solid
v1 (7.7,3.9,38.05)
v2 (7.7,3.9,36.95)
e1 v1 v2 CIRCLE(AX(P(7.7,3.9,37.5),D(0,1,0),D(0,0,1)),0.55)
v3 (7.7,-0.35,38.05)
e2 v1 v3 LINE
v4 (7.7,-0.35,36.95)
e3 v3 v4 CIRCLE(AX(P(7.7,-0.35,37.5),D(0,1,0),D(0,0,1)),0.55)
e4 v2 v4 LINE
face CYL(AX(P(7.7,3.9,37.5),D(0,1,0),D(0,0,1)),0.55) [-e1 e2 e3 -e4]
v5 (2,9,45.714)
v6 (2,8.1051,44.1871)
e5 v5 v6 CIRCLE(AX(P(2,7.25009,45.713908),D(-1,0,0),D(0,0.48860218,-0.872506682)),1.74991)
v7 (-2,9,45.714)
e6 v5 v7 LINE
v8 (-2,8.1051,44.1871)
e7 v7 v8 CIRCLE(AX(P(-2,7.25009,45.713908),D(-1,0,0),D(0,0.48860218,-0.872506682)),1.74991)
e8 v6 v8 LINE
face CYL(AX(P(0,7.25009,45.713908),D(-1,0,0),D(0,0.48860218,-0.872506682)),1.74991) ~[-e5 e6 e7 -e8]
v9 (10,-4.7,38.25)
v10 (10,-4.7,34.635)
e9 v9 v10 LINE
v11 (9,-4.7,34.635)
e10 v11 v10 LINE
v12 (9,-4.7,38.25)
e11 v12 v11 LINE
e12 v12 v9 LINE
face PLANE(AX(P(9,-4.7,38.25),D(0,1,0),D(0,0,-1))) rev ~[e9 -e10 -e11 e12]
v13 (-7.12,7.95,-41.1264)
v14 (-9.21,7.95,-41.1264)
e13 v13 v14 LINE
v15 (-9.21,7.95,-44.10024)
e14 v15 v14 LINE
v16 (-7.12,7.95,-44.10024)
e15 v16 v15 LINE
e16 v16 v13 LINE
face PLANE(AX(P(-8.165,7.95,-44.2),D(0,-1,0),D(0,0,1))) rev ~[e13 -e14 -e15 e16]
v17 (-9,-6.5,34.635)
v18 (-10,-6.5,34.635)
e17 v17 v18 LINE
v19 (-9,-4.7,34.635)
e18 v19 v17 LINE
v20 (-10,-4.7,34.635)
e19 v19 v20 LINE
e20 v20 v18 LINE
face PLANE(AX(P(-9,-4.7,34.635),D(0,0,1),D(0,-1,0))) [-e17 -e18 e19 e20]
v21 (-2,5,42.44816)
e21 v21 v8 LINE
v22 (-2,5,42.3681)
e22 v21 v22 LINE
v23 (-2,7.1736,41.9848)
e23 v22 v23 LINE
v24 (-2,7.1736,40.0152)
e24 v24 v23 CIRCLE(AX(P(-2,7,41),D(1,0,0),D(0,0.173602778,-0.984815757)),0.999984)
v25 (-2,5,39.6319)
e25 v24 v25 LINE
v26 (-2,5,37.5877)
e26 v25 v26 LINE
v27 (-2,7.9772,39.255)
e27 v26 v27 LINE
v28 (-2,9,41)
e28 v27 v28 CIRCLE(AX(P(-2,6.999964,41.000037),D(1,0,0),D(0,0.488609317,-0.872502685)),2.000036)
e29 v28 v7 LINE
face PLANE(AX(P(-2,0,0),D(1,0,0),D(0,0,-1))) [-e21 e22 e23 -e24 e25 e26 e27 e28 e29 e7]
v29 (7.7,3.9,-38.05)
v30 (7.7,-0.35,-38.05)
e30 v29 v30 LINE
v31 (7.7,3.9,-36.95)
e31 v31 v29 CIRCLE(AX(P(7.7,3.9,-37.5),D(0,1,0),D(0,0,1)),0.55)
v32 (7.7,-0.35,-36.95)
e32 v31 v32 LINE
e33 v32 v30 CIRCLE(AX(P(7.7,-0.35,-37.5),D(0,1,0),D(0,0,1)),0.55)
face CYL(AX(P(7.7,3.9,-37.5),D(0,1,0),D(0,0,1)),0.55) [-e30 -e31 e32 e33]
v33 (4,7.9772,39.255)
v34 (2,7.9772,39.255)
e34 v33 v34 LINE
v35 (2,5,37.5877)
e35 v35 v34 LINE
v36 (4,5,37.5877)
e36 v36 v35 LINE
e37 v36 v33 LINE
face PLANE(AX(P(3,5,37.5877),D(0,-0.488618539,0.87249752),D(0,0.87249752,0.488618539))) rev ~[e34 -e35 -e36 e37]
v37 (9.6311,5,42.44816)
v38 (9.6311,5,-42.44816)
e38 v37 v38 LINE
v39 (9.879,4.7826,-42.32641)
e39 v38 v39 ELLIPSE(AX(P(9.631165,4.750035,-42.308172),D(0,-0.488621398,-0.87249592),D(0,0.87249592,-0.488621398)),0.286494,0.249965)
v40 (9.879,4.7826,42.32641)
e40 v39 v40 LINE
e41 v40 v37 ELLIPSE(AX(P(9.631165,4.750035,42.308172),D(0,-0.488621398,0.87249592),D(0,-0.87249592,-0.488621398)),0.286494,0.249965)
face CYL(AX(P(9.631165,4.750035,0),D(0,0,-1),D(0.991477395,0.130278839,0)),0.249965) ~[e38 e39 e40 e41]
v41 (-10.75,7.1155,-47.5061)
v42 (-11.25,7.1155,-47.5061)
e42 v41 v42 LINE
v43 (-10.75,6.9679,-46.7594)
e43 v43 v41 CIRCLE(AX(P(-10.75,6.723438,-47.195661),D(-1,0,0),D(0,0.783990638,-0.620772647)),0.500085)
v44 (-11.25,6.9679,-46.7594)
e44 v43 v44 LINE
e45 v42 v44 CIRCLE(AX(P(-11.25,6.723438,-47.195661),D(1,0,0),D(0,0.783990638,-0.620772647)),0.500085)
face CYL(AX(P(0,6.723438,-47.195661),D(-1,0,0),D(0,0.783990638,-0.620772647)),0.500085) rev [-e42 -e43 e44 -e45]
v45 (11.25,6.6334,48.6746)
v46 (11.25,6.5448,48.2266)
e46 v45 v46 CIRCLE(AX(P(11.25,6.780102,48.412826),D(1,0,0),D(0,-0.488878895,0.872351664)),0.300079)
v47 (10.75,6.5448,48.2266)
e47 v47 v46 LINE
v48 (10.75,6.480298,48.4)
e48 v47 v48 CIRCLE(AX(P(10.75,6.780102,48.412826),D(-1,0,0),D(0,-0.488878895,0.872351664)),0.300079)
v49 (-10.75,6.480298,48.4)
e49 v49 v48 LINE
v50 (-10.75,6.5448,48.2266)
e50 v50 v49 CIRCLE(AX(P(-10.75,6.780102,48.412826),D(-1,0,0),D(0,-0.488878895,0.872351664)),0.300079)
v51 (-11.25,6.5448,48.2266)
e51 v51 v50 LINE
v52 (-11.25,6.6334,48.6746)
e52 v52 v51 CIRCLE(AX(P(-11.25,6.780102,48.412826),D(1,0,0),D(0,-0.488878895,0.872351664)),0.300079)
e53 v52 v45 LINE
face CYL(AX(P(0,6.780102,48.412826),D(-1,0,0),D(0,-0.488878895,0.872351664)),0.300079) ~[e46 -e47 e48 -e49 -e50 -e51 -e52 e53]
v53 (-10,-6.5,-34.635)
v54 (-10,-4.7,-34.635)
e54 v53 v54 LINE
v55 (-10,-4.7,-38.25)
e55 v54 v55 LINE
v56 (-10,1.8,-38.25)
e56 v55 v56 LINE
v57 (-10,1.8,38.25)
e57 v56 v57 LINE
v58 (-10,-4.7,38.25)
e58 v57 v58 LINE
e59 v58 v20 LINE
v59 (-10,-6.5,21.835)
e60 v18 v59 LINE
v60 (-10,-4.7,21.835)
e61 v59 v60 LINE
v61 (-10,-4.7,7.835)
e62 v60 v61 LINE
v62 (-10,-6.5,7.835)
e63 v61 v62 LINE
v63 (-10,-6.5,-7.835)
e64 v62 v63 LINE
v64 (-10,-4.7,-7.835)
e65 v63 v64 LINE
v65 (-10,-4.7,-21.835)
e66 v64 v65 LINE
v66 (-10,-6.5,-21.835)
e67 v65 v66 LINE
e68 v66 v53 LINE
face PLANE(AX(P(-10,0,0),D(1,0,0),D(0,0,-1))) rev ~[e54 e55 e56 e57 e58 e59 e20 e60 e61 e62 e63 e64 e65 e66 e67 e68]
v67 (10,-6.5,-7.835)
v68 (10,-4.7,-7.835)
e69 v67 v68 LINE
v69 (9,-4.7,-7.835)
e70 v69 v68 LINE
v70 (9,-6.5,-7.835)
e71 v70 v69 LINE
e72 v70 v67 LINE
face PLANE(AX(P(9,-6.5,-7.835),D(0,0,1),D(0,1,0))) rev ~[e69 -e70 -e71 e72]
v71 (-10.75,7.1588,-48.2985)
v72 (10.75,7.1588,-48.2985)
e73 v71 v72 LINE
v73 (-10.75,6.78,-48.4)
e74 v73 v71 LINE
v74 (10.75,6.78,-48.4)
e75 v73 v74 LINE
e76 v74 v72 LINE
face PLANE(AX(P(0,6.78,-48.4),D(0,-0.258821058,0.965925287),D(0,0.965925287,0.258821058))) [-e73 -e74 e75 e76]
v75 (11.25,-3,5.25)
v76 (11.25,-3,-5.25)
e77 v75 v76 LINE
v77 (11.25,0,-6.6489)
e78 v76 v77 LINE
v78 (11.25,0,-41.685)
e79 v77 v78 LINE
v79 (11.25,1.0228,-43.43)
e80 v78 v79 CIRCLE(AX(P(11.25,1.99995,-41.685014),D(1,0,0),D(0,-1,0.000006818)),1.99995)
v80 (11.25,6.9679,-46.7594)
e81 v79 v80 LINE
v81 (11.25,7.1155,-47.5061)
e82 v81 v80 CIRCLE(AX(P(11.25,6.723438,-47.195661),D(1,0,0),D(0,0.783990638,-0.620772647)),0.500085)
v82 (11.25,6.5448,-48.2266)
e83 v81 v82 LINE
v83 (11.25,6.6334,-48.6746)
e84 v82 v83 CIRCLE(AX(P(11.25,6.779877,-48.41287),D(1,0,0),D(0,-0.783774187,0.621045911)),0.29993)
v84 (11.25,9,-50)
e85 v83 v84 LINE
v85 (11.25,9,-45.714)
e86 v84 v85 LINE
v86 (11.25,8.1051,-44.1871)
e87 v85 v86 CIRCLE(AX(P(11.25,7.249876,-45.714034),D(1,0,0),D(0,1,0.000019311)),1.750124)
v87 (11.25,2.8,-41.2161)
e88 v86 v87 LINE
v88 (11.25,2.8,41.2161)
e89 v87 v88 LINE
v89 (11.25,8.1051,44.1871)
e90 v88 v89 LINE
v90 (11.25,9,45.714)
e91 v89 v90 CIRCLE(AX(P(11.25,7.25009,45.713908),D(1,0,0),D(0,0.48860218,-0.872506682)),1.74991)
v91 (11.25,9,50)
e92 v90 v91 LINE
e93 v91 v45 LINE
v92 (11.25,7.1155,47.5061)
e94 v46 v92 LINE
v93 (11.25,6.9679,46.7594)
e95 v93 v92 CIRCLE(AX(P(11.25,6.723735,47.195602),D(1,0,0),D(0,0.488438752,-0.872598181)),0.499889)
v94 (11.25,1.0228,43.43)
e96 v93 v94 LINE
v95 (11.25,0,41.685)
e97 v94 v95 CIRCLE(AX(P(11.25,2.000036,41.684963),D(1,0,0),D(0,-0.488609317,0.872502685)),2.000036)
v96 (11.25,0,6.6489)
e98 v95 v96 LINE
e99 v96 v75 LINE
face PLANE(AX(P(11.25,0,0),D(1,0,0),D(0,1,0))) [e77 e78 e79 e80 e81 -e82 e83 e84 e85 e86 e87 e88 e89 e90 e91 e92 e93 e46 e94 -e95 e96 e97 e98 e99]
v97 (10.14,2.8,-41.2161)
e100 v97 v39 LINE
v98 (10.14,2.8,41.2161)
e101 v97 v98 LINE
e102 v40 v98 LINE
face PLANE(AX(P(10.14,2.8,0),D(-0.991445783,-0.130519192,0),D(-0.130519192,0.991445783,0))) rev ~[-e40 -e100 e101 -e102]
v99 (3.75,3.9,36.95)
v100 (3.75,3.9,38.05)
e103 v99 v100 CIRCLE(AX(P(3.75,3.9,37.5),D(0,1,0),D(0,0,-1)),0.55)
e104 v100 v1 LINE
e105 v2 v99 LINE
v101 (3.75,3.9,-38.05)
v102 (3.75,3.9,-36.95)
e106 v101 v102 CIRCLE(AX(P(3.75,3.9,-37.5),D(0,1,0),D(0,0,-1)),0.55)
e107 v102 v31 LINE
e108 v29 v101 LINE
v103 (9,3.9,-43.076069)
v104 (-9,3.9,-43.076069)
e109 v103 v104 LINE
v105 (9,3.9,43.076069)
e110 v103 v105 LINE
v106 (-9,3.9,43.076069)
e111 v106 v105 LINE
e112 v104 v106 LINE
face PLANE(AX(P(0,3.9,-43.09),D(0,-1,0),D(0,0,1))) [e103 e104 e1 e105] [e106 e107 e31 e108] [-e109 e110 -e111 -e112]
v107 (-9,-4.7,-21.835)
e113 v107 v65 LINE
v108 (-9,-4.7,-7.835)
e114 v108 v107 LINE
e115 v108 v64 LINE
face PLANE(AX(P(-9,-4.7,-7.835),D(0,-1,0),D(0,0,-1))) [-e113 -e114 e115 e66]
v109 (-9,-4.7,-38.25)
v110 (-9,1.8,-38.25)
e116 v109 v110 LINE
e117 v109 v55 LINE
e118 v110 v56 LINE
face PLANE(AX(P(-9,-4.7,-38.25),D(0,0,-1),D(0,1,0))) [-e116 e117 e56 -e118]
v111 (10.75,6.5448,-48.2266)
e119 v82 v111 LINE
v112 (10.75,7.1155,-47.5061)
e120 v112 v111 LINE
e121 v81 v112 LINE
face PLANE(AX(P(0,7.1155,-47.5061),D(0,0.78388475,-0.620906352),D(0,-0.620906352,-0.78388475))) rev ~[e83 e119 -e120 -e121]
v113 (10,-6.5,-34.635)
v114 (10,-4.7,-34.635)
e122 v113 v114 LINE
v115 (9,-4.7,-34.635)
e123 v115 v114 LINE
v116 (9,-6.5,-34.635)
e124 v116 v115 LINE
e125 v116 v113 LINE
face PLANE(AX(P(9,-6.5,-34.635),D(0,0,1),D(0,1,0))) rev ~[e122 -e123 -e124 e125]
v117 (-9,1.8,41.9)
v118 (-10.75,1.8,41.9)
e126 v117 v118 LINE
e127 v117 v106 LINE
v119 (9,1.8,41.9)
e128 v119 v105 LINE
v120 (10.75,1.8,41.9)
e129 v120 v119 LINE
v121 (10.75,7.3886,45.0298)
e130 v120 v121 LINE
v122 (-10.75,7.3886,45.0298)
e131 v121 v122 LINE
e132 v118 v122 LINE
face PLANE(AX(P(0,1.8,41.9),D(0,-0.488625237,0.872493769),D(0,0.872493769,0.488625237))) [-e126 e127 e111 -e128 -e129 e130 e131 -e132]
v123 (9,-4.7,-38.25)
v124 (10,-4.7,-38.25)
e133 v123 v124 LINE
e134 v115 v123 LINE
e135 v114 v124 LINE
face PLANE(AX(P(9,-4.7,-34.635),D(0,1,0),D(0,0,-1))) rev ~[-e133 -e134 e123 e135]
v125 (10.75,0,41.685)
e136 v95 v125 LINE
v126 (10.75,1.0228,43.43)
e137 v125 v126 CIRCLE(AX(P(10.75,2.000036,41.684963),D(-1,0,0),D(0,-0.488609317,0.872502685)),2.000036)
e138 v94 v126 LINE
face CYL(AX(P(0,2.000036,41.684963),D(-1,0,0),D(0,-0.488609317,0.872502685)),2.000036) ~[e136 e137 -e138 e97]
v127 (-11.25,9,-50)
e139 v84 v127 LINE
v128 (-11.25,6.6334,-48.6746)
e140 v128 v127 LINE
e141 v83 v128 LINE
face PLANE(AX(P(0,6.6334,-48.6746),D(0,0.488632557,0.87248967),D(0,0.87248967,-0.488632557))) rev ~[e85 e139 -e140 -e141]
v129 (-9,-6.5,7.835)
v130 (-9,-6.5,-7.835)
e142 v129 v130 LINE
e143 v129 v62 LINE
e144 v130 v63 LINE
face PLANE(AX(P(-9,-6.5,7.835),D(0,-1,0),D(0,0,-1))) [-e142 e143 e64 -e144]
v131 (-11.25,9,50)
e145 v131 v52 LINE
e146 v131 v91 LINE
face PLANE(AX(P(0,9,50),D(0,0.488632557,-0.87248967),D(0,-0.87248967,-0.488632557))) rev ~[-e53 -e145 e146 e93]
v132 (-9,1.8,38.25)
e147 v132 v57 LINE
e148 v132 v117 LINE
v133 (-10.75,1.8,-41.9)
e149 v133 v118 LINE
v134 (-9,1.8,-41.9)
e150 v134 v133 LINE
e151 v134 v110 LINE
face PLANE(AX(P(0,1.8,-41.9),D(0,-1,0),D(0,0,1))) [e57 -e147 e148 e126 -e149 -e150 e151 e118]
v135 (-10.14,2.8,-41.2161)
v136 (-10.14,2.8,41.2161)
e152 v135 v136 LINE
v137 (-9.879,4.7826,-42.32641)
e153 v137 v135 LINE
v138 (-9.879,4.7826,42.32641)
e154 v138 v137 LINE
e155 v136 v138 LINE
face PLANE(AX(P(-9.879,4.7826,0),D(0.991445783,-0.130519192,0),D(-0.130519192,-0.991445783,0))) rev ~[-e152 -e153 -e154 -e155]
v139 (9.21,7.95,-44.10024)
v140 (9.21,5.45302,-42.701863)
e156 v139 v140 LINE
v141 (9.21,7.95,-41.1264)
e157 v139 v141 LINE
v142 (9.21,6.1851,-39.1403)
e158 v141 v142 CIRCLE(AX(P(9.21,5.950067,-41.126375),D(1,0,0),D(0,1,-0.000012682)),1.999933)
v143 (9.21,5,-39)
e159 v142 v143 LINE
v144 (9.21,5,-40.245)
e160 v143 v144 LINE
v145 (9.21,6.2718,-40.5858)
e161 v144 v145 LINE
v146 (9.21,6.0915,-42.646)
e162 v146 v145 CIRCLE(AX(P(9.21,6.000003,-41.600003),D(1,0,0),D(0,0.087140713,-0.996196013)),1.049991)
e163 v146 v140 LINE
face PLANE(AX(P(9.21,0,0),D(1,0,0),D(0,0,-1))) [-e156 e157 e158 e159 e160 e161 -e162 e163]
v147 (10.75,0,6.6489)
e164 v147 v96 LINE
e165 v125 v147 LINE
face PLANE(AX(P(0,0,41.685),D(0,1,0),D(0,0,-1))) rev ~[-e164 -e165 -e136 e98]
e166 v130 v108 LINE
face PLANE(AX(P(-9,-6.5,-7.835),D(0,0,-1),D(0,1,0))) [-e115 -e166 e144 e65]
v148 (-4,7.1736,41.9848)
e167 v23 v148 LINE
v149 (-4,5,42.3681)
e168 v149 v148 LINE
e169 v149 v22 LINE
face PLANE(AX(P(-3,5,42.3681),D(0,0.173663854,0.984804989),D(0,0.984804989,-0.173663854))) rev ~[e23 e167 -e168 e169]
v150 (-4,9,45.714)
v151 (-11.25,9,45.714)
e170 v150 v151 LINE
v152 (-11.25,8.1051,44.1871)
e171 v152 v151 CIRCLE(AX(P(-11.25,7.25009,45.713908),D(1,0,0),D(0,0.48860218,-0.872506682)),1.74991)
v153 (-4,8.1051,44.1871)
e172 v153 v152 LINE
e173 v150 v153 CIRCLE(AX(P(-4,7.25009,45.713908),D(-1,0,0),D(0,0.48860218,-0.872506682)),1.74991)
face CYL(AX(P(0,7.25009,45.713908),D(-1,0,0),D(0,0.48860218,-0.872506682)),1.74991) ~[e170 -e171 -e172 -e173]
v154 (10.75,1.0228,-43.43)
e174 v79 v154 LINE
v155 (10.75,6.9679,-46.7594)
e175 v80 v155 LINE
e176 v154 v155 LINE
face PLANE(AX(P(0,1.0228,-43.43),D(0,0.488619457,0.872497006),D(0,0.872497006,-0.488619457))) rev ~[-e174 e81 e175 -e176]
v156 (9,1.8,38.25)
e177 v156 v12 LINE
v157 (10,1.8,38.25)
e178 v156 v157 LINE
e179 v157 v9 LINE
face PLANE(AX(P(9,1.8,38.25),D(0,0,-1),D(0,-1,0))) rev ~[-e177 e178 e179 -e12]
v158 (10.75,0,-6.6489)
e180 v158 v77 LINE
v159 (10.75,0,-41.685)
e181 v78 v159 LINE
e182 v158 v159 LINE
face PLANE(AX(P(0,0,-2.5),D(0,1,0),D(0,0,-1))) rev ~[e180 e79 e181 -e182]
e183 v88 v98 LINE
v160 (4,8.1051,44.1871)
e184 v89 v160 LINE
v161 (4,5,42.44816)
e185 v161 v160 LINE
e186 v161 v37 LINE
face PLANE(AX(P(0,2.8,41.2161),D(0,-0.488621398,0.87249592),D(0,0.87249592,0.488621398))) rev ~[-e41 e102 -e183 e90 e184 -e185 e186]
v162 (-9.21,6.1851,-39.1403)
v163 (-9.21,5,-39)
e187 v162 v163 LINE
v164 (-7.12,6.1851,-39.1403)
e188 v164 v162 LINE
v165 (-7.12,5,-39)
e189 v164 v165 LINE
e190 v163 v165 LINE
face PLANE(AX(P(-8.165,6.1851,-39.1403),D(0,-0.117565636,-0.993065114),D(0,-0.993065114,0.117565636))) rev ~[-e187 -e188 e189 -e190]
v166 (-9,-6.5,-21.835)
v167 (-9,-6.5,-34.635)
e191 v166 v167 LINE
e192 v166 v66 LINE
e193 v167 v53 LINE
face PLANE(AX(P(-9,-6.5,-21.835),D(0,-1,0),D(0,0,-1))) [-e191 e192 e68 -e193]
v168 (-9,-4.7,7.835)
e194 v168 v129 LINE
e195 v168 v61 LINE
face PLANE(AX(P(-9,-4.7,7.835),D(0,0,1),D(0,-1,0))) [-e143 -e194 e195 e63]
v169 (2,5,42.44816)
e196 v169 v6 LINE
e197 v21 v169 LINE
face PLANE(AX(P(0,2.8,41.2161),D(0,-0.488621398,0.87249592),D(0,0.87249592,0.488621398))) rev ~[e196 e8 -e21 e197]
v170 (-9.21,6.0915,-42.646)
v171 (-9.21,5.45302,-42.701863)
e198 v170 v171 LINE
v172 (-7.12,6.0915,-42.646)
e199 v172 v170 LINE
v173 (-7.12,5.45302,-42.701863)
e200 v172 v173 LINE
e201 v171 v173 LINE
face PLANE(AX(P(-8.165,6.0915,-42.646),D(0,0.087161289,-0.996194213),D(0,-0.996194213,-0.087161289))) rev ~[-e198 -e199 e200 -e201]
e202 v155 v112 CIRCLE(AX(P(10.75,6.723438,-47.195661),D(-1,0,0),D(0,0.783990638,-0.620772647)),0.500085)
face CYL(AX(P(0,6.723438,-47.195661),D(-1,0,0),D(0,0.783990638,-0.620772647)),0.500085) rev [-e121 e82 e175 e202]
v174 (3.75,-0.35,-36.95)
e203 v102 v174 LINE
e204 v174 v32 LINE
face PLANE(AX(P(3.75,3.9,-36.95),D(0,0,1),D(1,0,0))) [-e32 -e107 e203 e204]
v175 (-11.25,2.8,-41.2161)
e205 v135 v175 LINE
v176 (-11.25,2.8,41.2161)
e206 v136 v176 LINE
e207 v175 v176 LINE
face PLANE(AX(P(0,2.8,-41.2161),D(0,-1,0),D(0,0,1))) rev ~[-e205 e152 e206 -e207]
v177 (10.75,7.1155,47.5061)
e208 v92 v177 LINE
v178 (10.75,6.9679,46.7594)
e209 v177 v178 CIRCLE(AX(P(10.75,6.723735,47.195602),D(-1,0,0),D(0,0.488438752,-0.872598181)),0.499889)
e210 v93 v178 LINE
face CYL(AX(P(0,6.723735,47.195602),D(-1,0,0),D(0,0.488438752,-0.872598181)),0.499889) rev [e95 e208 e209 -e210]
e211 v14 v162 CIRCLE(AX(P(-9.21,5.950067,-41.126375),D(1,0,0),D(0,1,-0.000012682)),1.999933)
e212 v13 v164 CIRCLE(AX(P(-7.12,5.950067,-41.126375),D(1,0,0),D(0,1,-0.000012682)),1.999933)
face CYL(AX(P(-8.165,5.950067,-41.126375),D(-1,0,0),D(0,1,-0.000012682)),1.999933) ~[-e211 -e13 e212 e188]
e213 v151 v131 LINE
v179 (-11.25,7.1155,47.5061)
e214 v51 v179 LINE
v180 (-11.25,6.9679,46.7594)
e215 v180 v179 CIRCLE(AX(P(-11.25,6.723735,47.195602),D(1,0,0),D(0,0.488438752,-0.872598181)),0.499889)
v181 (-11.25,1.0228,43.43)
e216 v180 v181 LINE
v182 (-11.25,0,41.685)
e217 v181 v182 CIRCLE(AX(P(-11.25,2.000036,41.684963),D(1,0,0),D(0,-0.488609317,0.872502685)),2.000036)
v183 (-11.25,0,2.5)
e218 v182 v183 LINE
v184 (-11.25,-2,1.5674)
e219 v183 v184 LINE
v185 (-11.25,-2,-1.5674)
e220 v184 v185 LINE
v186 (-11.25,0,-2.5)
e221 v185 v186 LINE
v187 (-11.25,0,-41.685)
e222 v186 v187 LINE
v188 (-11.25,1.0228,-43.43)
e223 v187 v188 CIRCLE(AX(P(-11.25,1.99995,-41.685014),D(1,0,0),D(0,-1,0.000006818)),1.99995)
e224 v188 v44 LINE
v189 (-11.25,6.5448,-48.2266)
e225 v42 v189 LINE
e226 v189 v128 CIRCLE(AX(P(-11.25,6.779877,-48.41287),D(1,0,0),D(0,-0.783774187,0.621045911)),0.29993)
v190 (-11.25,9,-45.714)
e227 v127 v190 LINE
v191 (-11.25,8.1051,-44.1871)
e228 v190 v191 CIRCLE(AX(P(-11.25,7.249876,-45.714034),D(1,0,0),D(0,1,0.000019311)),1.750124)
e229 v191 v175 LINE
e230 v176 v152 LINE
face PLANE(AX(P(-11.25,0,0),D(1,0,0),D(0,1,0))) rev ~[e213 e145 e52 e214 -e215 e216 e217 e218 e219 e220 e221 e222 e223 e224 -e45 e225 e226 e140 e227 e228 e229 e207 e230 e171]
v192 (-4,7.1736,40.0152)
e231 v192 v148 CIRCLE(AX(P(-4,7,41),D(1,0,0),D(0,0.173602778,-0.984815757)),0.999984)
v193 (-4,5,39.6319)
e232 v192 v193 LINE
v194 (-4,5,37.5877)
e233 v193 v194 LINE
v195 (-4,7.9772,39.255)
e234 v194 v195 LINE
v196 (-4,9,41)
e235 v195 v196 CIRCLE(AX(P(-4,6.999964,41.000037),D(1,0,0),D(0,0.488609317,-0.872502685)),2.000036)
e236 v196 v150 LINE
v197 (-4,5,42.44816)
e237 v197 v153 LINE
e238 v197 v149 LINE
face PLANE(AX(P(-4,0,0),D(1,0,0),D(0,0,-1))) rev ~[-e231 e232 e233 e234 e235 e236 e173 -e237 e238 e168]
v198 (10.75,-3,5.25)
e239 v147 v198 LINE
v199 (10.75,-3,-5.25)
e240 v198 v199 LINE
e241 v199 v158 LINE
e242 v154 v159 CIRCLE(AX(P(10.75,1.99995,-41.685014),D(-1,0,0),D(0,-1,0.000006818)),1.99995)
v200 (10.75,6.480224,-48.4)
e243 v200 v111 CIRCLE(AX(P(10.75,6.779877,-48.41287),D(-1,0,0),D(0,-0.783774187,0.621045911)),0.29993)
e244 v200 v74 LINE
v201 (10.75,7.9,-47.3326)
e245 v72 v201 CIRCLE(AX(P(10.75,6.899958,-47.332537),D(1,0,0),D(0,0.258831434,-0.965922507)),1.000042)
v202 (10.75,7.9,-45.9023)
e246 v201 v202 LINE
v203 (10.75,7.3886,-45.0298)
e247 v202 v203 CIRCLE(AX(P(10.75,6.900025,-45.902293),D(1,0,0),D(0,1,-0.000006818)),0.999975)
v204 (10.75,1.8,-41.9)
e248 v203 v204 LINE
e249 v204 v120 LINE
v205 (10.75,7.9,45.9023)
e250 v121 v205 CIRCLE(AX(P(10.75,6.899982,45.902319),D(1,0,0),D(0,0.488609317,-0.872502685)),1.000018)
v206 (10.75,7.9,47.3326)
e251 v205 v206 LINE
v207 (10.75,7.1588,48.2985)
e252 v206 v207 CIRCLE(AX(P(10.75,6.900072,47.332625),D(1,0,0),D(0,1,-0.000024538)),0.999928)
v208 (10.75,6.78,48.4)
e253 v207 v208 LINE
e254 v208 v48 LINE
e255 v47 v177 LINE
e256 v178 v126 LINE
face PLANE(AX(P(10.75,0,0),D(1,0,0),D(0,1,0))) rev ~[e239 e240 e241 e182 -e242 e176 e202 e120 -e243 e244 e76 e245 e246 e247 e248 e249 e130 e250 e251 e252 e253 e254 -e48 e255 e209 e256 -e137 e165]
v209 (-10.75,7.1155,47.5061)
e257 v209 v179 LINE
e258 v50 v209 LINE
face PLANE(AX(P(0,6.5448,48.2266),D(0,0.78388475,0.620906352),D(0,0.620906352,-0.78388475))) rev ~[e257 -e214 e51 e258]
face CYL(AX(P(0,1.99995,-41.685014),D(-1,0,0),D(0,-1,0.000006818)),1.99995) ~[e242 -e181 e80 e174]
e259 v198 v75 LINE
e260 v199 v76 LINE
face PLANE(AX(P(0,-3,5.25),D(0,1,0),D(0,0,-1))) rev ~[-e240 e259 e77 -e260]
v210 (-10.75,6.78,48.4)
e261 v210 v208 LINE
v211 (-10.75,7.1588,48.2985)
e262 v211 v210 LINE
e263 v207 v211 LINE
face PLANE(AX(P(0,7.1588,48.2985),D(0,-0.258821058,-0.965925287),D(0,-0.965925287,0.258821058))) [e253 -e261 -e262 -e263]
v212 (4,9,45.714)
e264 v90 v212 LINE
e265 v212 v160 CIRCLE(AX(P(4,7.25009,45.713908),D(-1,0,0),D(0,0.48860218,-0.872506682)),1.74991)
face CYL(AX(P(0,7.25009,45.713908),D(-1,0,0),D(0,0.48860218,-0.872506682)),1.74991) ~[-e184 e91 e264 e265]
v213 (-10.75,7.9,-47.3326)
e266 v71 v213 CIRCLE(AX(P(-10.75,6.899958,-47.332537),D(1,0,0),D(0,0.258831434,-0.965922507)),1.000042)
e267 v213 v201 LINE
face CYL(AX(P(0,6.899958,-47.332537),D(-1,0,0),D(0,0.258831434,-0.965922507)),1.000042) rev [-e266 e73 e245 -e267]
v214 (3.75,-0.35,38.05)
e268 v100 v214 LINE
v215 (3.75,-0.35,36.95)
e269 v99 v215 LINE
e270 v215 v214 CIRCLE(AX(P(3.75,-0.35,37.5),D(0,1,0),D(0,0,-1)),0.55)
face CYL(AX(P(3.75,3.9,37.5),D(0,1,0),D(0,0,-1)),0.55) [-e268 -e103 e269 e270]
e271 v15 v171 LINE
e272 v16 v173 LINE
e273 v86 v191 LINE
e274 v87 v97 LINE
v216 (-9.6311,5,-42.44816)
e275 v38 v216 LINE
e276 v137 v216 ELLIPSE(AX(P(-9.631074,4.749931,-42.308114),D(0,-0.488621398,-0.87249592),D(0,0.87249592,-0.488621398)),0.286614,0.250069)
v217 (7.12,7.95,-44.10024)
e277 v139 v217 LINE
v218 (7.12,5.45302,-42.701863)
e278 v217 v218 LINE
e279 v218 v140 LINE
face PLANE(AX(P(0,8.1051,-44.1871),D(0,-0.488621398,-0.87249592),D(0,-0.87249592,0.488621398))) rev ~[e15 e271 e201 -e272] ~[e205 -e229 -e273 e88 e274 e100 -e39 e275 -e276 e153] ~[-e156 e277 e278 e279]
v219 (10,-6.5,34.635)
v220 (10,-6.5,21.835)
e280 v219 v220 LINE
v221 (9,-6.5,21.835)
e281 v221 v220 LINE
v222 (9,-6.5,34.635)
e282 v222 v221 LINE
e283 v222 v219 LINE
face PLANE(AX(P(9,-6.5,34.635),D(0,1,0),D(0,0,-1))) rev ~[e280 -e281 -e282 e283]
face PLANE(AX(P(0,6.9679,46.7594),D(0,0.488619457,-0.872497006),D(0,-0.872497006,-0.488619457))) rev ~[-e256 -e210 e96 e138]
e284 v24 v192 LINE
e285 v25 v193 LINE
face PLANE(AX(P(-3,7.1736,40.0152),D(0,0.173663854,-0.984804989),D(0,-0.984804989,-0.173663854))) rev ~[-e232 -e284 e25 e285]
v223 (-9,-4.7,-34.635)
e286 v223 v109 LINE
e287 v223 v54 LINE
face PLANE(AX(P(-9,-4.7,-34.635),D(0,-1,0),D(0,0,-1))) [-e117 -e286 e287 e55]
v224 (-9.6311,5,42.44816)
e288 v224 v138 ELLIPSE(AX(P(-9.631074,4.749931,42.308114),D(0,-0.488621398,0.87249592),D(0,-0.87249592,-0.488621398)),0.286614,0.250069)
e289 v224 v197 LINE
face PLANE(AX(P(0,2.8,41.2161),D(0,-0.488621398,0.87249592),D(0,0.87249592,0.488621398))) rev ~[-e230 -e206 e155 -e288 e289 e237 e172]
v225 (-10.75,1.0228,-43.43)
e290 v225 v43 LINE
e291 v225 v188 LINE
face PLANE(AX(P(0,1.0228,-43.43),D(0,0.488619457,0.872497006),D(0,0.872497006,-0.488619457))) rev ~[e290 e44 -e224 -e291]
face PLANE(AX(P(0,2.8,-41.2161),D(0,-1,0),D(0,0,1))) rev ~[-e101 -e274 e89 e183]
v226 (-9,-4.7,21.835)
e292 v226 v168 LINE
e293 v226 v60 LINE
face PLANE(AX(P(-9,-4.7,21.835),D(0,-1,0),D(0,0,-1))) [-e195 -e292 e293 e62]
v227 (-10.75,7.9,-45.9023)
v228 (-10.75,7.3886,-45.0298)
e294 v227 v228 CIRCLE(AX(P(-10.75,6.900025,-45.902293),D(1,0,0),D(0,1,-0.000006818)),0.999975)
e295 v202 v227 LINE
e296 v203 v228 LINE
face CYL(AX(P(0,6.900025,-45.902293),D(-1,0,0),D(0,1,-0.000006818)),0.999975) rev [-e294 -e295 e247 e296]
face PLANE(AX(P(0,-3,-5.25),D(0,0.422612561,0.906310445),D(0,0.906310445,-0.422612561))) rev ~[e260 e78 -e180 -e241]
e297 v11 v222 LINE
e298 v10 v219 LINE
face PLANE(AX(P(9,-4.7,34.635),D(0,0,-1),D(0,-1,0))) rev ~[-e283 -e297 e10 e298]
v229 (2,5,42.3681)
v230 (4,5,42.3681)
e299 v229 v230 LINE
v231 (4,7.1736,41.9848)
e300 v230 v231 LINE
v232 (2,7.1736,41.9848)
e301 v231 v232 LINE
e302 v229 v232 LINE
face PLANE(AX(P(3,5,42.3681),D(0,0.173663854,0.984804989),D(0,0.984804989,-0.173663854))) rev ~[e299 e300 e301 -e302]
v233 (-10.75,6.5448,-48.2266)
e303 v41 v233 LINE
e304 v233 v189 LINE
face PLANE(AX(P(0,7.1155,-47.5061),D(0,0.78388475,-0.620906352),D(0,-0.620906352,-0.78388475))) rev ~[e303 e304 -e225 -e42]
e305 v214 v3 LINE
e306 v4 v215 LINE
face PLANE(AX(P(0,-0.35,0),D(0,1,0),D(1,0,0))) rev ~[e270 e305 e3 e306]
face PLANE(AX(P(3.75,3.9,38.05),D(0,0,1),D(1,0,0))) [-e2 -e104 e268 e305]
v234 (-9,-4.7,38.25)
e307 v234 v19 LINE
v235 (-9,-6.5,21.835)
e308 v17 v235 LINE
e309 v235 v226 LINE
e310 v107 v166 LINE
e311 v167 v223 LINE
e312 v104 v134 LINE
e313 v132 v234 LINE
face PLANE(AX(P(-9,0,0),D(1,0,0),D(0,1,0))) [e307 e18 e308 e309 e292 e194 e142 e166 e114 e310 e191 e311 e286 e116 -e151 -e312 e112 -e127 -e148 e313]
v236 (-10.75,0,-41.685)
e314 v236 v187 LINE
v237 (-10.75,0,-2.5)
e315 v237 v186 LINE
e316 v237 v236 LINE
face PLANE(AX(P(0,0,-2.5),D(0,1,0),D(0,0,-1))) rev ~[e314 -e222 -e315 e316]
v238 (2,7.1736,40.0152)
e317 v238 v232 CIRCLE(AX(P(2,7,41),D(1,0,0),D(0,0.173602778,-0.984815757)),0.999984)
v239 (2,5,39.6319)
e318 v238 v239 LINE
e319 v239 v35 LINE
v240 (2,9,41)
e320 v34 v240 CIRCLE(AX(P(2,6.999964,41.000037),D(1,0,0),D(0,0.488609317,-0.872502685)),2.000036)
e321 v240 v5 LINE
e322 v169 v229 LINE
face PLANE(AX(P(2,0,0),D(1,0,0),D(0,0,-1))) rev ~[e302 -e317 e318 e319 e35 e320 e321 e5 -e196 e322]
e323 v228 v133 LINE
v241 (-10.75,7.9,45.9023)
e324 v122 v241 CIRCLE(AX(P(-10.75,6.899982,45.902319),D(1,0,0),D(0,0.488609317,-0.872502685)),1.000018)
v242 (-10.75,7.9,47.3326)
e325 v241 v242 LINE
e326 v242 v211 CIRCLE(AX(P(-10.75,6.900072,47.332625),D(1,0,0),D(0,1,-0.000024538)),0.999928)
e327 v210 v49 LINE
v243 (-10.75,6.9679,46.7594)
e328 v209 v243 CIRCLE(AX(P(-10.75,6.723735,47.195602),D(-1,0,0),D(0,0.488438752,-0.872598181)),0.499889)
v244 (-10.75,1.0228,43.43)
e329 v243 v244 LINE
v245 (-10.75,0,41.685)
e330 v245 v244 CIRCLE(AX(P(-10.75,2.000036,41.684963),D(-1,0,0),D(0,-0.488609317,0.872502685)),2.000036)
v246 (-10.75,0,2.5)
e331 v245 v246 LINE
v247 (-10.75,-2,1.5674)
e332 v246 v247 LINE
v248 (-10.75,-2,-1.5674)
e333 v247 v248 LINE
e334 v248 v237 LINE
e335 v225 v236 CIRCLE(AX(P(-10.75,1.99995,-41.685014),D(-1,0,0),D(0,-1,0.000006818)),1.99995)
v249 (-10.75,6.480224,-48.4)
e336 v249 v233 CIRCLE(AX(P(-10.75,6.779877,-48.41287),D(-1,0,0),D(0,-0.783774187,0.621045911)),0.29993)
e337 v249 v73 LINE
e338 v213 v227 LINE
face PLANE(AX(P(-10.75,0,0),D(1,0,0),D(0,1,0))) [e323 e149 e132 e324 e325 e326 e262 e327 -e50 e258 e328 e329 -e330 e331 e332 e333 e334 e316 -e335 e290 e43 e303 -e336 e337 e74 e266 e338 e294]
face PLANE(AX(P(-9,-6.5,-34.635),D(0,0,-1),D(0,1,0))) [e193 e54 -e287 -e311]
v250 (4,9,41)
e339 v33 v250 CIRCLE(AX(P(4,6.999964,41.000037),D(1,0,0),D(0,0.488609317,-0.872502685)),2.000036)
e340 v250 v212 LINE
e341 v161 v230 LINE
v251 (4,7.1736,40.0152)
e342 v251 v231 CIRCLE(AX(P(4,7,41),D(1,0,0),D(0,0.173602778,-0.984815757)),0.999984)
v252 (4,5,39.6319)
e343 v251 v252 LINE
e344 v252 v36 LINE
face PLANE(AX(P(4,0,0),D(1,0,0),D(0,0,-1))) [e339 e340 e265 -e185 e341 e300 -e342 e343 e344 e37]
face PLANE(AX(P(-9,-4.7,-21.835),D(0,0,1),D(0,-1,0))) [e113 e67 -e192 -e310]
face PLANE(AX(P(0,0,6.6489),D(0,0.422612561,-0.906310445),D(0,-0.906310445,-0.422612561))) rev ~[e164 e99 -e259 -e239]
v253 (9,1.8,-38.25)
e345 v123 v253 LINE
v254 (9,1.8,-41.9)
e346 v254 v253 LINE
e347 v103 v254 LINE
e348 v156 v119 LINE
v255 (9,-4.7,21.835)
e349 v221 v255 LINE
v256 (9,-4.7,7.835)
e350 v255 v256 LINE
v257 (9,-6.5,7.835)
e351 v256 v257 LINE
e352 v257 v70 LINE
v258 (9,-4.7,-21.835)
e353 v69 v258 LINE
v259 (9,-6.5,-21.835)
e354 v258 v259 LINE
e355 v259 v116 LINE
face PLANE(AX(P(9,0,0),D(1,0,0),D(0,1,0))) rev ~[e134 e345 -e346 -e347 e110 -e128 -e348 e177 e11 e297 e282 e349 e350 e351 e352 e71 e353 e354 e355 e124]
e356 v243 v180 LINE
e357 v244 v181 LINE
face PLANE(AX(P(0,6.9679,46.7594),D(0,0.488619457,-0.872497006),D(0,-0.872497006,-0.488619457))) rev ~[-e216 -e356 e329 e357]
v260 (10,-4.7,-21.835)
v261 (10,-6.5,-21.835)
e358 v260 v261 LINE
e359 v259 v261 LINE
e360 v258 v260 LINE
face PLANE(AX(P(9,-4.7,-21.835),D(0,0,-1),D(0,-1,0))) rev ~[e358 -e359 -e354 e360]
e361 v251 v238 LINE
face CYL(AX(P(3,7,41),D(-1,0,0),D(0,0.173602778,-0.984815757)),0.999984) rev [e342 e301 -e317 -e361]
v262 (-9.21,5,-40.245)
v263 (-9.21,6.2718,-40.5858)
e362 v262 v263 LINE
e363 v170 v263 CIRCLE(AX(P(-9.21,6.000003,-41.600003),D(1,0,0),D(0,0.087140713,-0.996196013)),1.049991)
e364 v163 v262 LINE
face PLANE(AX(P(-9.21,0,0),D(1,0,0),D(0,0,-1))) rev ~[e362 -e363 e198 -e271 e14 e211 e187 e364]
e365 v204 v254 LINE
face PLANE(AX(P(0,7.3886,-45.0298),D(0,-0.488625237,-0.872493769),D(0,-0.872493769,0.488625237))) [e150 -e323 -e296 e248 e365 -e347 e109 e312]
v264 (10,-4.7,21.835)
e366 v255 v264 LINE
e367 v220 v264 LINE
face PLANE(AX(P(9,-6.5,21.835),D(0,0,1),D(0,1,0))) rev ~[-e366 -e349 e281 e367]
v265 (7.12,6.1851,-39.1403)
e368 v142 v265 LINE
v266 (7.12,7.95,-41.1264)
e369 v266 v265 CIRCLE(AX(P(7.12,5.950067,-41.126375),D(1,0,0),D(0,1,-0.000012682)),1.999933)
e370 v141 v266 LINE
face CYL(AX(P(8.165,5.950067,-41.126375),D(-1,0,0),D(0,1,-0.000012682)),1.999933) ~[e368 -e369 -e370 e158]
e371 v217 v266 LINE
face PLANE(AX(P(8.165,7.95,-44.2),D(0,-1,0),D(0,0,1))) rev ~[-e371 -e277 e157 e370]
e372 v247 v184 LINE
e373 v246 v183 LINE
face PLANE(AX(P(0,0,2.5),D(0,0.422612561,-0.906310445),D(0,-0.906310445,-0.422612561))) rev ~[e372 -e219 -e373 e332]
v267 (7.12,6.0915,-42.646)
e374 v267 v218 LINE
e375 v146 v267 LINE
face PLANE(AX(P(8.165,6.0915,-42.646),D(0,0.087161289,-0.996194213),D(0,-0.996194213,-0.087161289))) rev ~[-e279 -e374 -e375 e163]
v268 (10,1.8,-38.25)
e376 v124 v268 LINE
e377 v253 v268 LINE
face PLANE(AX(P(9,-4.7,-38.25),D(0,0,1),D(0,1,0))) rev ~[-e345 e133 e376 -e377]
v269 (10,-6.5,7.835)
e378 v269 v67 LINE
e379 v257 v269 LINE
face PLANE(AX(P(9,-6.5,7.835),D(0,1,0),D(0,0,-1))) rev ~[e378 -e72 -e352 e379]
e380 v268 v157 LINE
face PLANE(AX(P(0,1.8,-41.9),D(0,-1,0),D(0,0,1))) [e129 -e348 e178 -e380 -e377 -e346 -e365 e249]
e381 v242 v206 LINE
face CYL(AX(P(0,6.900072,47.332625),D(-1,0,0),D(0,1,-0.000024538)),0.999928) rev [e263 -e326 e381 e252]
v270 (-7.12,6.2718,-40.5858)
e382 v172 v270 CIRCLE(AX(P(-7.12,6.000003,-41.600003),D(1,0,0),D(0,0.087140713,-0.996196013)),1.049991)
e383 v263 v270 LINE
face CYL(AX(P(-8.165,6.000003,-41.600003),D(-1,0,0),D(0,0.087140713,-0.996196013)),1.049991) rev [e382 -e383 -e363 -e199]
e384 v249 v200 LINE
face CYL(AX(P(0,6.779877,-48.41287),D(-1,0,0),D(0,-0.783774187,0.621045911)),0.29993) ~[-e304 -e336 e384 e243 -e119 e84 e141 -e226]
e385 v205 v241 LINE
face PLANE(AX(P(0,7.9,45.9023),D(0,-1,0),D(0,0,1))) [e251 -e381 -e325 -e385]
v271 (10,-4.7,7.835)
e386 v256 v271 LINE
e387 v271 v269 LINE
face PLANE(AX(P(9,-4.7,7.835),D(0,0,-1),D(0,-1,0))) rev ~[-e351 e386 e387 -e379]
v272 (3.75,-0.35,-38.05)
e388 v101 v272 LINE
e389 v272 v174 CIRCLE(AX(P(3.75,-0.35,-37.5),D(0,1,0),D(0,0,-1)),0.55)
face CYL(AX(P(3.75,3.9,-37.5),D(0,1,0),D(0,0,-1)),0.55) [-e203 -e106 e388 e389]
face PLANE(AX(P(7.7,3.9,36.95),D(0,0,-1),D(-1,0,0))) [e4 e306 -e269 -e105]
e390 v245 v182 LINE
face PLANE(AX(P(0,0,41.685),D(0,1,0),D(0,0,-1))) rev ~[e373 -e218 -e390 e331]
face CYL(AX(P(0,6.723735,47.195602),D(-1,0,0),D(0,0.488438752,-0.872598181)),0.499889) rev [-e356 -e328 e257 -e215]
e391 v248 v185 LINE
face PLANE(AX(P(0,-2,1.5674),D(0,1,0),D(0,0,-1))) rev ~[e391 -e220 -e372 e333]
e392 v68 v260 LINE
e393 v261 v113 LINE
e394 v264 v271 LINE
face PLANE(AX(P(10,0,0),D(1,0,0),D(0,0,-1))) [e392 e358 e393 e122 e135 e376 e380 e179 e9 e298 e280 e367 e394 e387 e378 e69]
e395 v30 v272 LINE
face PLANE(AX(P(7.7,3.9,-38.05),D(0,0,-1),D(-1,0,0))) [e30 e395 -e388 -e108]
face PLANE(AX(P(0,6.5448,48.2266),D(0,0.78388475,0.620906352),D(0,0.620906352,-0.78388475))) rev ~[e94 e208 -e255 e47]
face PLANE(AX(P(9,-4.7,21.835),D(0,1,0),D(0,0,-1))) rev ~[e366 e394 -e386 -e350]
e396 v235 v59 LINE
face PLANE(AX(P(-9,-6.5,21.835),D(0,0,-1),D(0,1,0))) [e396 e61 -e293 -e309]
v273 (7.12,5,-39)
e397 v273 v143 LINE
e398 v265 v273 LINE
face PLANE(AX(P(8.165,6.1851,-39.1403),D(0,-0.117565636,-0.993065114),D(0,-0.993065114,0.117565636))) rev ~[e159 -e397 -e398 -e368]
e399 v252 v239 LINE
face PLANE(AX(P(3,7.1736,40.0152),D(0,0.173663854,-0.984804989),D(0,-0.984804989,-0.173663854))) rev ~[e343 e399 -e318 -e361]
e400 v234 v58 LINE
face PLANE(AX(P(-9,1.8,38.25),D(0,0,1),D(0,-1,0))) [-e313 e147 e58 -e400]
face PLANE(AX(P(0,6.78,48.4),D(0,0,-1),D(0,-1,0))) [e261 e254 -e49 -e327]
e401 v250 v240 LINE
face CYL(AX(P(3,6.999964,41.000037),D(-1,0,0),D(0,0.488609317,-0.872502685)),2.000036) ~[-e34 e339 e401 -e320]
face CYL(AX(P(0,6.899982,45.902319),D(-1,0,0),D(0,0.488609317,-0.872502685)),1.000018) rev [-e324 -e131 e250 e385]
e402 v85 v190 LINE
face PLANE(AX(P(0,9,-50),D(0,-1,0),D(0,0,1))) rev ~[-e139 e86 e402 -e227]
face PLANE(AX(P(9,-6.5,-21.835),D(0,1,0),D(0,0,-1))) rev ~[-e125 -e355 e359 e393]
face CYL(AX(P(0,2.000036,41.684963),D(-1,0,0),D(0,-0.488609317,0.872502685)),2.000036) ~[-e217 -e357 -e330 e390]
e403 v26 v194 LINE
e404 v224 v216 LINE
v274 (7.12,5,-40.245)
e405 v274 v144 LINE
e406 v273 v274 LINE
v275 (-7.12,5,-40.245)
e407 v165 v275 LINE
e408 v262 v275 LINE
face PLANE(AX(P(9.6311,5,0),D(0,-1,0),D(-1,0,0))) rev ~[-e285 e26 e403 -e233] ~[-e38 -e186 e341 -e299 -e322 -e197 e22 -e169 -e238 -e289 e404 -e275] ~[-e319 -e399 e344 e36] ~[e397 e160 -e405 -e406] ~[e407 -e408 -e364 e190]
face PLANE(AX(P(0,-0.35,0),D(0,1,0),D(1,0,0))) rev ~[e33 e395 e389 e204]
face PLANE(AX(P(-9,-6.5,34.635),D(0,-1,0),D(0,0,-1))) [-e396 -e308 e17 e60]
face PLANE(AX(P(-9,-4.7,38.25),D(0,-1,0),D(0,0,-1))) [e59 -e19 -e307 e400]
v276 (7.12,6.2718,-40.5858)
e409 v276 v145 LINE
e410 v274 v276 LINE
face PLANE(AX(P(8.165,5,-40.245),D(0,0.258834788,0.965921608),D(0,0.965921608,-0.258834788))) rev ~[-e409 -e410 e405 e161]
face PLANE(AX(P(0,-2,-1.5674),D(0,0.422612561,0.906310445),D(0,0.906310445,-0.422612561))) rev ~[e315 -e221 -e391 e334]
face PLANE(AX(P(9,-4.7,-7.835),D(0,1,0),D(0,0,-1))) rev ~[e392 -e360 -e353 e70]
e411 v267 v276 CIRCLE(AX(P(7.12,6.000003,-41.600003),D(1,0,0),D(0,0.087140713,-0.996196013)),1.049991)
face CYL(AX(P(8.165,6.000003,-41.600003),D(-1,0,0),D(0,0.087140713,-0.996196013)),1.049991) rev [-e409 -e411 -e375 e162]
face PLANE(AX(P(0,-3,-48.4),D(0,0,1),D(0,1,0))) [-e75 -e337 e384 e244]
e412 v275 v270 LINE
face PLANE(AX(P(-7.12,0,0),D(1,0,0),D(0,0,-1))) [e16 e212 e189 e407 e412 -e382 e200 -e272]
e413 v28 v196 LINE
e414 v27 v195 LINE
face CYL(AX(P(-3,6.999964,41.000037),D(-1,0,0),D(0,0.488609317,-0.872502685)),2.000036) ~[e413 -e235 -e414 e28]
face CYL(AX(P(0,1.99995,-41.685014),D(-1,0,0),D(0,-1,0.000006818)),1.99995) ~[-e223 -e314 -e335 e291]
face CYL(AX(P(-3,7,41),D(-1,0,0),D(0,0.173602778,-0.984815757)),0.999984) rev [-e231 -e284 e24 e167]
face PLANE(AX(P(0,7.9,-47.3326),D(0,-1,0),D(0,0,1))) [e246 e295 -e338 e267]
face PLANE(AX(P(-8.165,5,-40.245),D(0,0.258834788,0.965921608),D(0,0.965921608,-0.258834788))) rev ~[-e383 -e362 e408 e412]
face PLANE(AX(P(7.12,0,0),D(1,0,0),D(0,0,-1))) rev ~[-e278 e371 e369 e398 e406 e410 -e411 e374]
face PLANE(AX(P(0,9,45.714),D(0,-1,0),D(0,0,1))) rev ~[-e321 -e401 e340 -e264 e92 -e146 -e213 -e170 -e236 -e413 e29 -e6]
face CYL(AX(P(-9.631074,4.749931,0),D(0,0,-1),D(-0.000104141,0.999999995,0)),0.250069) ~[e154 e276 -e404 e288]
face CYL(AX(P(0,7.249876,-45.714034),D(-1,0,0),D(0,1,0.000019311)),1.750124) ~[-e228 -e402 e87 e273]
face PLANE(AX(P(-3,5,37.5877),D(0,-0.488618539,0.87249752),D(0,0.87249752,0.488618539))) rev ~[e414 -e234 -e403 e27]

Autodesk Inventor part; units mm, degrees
sketch "Sketch_1" plane through (0, 0, 0) normal (1, 0, 0) x (0, 1, 0)
  line L0 (9, 50) -> (6.6334, 48.6746)
  arc A0 (6.6334, 48.6746) -> (6.5448, 48.2266) centre (6.78, 48.4129) ccw
  line L1 (6.5448, 48.2266) -> (7.1155, 47.5061)
  arc A1 (6.9679, 46.7594) -> (7.1155, 47.5061) centre (6.7236, 47.1957) ccw
  line L2 (6.9679, 46.7594) -> (1.0228, 43.43)
  arc A2 (1.0228, 43.43) -> (0, 41.685) centre (2, 41.685) ccw
  line L3 (0, 41.685) -> (0, 2.5)
  line L4 (0, 2.5) -> (-2, 1.5674)
  line L5 (-2, 1.5674) -> (-2, -1.5674)
  line L6 (-2, -1.5674) -> (0, -2.5)
  line L7 (0, -2.5) -> (0, -41.685)
  arc A3 (0, -41.685) -> (1.0228, -43.43) centre (2, -41.685) ccw
  line L8 (1.0228, -43.43) -> (6.9679, -46.7594)
  arc A4 (7.1155, -47.5061) -> (6.9679, -46.7594) centre (6.7236, -47.1957) ccw
  line L9 (7.1155, -47.5061) -> (6.5448, -48.2266)
  arc A5 (6.5448, -48.2266) -> (6.6334, -48.6746) centre (6.78, -48.4129) ccw
  line L10 (6.6334, -48.6746) -> (9, -50)
  line L11 (9, -50) -> (9, -45.714)
  arc A6 (9, -45.714) -> (8.1051, -44.1871) centre (7.25, -45.714) ccw
  line L12 (8.1051, -44.1871) -> (2.8, -41.2161)
  line L13 (2.8, -41.2161) -> (2.8, 41.2161)
  line L14 (2.8, 41.2161) -> (8.1051, 44.1871)
  arc A7 (8.1051, 44.1871) -> (9, 45.714) centre (7.25, 45.714) ccw
  line L15 (9, 45.714) -> (9, 50)
extrude "Extrusion1" add sketch "Sketch_1" along normal mid plane 22.5
sketch "Sketch_15" plane through (0, 0, 0) normal (1, 0, 0) x (0, 1, 0)
  line L0 (0, 6.6489) -> (-3, 5.25)
  line L1 (-3, 5.25) -> (-3, -5.25)
  line L2 (-3, -5.25) -> (0, -6.6489)
  line L3 (0, -6.6489) -> (0, 6.6489)
extrude "Extrusion2" add sketch "Sketch_15" along normal blind 11.25
sketch "Sketch_2" plane through (0, 0, 0) normal (0, 0, 1) x (1, 0, 0)
  line L0 (-10.14, 2.8) -> (10.14, 2.8)
  line L1 (10.14, 2.8) -> (9.879, 4.7826)
  arc A0 (9.879, 4.7826) -> (9.6311, 5) centre (9.6311, 4.75) ccw
  line L2 (9.6311, 5) -> (-9.6311, 5)
  arc A1 (-9.6311, 5) -> (-9.879, 4.7826) centre (-9.6311, 4.75) ccw
  line L3 (-9.879, 4.7826) -> (-10.14, 2.8)
extrude "Extrusion3" add sketch "Sketch_2" along normal mid plane 86
sketch "Sketch_3" plane through (0, 0, 0) normal (1, 0, 0) x (0, 1, 0)
  line L0 (6.78, 48.4) -> (-3, 48.4)
  line L1 (-3, 48.4) -> (-3, -48.4)
  line L2 (-3, -48.4) -> (6.78, -48.4)
  line L3 (6.78, -48.4) -> (7.1588, -48.2985)
  arc A0 (7.1588, -48.2985) -> (7.9, -47.3326) centre (6.9, -47.3326) ccw
  line L4 (7.9, -47.3326) -> (7.9, -45.9023)
  arc A1 (7.9, -45.9023) -> (7.3886, -45.0298) centre (6.9, -45.9023) ccw
  line L5 (7.3886, -45.0298) -> (1.8, -41.9)
  line L6 (1.8, -41.9) -> (1.8, 41.9)
  line L7 (1.8, 41.9) -> (7.3886, 45.0298)
  arc A2 (7.3886, 45.0298) -> (7.9, 45.9023) centre (6.9, 45.9023) ccw
  line L8 (7.9, 45.9023) -> (7.9, 47.3326)
  arc A3 (7.9, 47.3326) -> (7.1588, 48.2985) centre (6.9, 47.3326) ccw
  line L9 (7.1588, 48.2985) -> (6.78, 48.4)
extrude "Extrusion4" cut sketch "Sketch_3" along normal mid plane 21.5
sketch "Sketch_4" plane through (0, 0, 0) normal (1, 0, 0) x (0, 1, 0)
  line L0 (6.78, 48.4) -> (-3, 48.4)
  line L1 (-3, 48.4) -> (-3, -48.4)
  line L2 (-3, -48.4) -> (6.78, -48.4)
  line L3 (6.78, -48.4) -> (7.1588, -48.2985)
  arc A0 (7.1588, -48.2985) -> (7.9, -47.3326) centre (6.9, -47.3326) ccw
  line L4 (7.9, -47.3326) -> (7.9, -45.9162)
  arc A1 (7.9, -45.9162) -> (7.3886, -45.0437) centre (6.9, -45.9162) ccw
  line L5 (7.3886, -45.0437) -> (3.9, -43.09)
  line L6 (3.9, -43.09) -> (3.9, 43.09)
  line L7 (3.9, 43.09) -> (7.3886, 45.0437)
  arc A2 (7.3886, 45.0437) -> (7.9, 45.9162) centre (6.9, 45.9162) ccw
  line L8 (7.9, 45.9162) -> (7.9, 47.3326)
  arc A3 (7.9, 47.3326) -> (7.1588, 48.2985) centre (6.9, 47.3326) ccw
  line L9 (7.1588, 48.2985) -> (6.78, 48.4)
extrude "Extrusion5" cut sketch "Sketch_4" along normal mid plane 18
sketch "Sketch_5" plane through (9, 0, 0) normal (1, 0, 0) x (0, 0, -1)
  line L0 (-38.25, -4.7) -> (-34.635, -4.7)
  line L1 (-34.635, -4.7) -> (-34.635, -6.5)
  line L2 (-34.635, -6.5) -> (-21.835, -6.5)
  line L3 (-21.835, -6.5) -> (-21.835, -4.7)
  line L4 (-21.835, -4.7) -> (-7.835, -4.7)
  line L5 (-7.835, -4.7) -> (-7.835, -6.5)
  line L6 (-7.835, -6.5) -> (7.835, -6.5)
  line L7 (7.835, -6.5) -> (7.835, -4.7)
  line L8 (7.835, -4.7) -> (21.835, -4.7)
  line L9 (21.835, -4.7) -> (21.835, -6.5)
  line L10 (21.835, -6.5) -> (34.635, -6.5)
  line L11 (34.635, -6.5) -> (34.635, -4.7)
  line L12 (34.635, -4.7) -> (38.25, -4.7)
  line L13 (38.25, -4.7) -> (38.25, 1.8)
  line L14 (38.25, 1.8) -> (-38.25, 1.8)
  line L15 (-38.25, 1.8) -> (-38.25, -4.7)
extrude "Extrusion6" add sketch "Sketch_5" along normal blind 1
sketch "Sketch_6" plane through (-9, 0, 0) normal (1, 0, 0) x (0, 0, -1)
  line L0 (-38.25, -4.7) -> (-34.635, -4.7)
  line L1 (-34.635, -4.7) -> (-34.635, -6.5)
  line L2 (-34.635, -6.5) -> (-21.835, -6.5)
  line L3 (-21.835, -6.5) -> (-21.835, -4.7)
  line L4 (-21.835, -4.7) -> (-7.835, -4.7)
  line L5 (-7.835, -4.7) -> (-7.835, -6.5)
  line L6 (-7.835, -6.5) -> (7.835, -6.5)
  line L7 (7.835, -6.5) -> (7.835, -4.7)
  line L8 (7.835, -4.7) -> (21.835, -4.7)
  line L9 (21.835, -4.7) -> (21.835, -6.5)
  line L10 (21.835, -6.5) -> (34.635, -6.5)
  line L11 (34.635, -6.5) -> (34.635, -4.7)
  line L12 (34.635, -4.7) -> (38.25, -4.7)
  line L13 (38.25, -4.7) -> (38.25, 1.8)
  line L14 (38.25, 1.8) -> (-38.25, 1.8)
  line L15 (-38.25, 1.8) -> (-38.25, -4.7)
extrude "Extrusion7" add sketch "Sketch_6" against normal blind 1
sketch "Sketch_7" plane through (0, 3.9, 0) normal (0, 1, 0) x (1, 0, 0)
  arc A0 (3.75, -36.95) -> (3.75, -38.05) centre (3.75, -37.5) ccw
  line L0 (3.75, -38.05) -> (7.7, -38.05)
  arc A1 (7.7, -38.05) -> (7.7, -36.95) centre (7.7, -37.5) ccw
  line L1 (7.7, -36.95) -> (3.75, -36.95)
extrude "Extrusion8" add sketch "Sketch_7" against normal blind 4.25
sketch "Sketch_8" plane through (0, 3.9, 0) normal (0, 1, 0) x (1, 0, 0)
  arc A0 (3.75, 38.05) -> (3.75, 36.95) centre (3.75, 37.5) ccw
  line L0 (3.75, 36.95) -> (7.7, 36.95)
  arc A1 (7.7, 36.95) -> (7.7, 38.05) centre (7.7, 37.5) ccw
  line L1 (7.7, 38.05) -> (3.75, 38.05)
extrude "Extrusion9" add sketch "Sketch_8" against normal blind 4.25
sketch "Sketch_10" plane through (3, 0, 0) normal (1, 0, 0) x (0, 0, -1)
  line L0 (-45.75, 8.5) -> (-43, 5)
  line L1 (-43, 5) -> (-42.3681, 5)
  line L2 (-42.3681, 5) -> (-41.9848, 7.1736)
  arc A0 (-40.0152, 7.1736) -> (-41.9848, 7.1736) centre (-41, 7) ccw
  line L3 (-40.0152, 7.1736) -> (-39.6319, 5)
  line L4 (-39.6319, 5) -> (-37.5877, 5)
  line L5 (-37.5877, 5) -> (-39.255, 7.9772)
  arc A1 (-39.255, 7.9772) -> (-41, 9) centre (-41, 7) ccw
  line L6 (-41, 9) -> (-45.75, 9)
  line L7 (-45.75, 9) -> (-45.75, 8.5)
extrude "Extrusion10" add sketch "Sketch_10" along normal mid plane 2
sketch "Sketch_11" plane through (-3, 0, 0) normal (1, 0, 0) x (0, 0, -1)
  line L0 (-45.75, 8.5) -> (-43, 5)
  line L1 (-43, 5) -> (-42.3681, 5)
  line L2 (-42.3681, 5) -> (-41.9848, 7.1736)
  arc A0 (-40.0152, 7.1736) -> (-41.9848, 7.1736) centre (-41, 7) ccw
  line L3 (-40.0152, 7.1736) -> (-39.6319, 5)
  line L4 (-39.6319, 5) -> (-37.5877, 5)
  line L5 (-37.5877, 5) -> (-39.255, 7.9772)
  arc A1 (-39.255, 7.9772) -> (-41, 9) centre (-41, 7) ccw
  line L6 (-41, 9) -> (-45.75, 9)
  line L7 (-45.75, 9) -> (-45.75, 8.5)
extrude "Extrusion11" add sketch "Sketch_11" along normal mid plane 2
sketch "Sketch_12" plane through (8.165, 0, 0) normal (1, 0, 0) x (0, 0, -1)
  line L0 (39, 5) -> (40.245, 5)
  line L1 (40.245, 5) -> (40.5858, 6.2718)
  arc A0 (42.646, 6.0915) -> (40.5858, 6.2718) centre (41.6, 6) ccw
  line L2 (42.646, 6.0915) -> (42.7415, 5)
  line L3 (42.7415, 5) -> (43.2, 5)
  line L4 (43.2, 5) -> (44.2, 7.95)
  line L5 (44.2, 7.95) -> (41.1264, 7.95)
  arc A1 (41.1264, 7.95) -> (39.1403, 6.1851) centre (41.1264, 5.95) ccw
  line L6 (39.1403, 6.1851) -> (39, 5)
extrude "Extrusion12" add sketch "Sketch_12" along normal mid plane 2.09
sketch "Sketch_13" plane through (-8.165, 0, 0) normal (1, 0, 0) x (0, 0, -1)
  line L0 (39, 5) -> (40.245, 5)
  line L1 (40.245, 5) -> (40.5858, 6.2718)
  arc A0 (42.646, 6.0915) -> (40.5858, 6.2718) centre (41.6, 6) ccw
  line L2 (42.646, 6.0915) -> (42.7415, 5)
  line L3 (42.7415, 5) -> (43.2, 5)
  line L4 (43.2, 5) -> (44.2, 7.95)
  line L5 (44.2, 7.95) -> (41.1264, 7.95)
  arc A1 (41.1264, 7.95) -> (39.1403, 6.1851) centre (41.1264, 5.95) ccw
  line L6 (39.1403, 6.1851) -> (39, 5)
extrude "Extrusion13" add sketch "Sketch_13" along normal mid plane 2.09
ref_plane "CP_XY" through (0, 0, 0) normal (0, 1, 0) x (1, 0, 0)
ref_plane "CP_YZ" through (0, 0, 0) normal (1, 0, 0) x (0, 0, -1)
ref_plane "CP_ZX" through (0, 0, 0) normal (0, 0, -1) x (0, 1, 0)
ref_plane "mitCover_XY" through (0, 7, 41) normal (-1, 0, 0) x (0, 0, -1)
ref_plane "mitCover_YZ" through (0, 7, 41) normal (0, 0, -1) x (0, -1, 0)
ref_plane "mitCover_ZX" through (0, 7, 41) normal (0, -1, 0) x (-1, 0, 0)
properties part number "CH20M22 F BK 2418640000"
